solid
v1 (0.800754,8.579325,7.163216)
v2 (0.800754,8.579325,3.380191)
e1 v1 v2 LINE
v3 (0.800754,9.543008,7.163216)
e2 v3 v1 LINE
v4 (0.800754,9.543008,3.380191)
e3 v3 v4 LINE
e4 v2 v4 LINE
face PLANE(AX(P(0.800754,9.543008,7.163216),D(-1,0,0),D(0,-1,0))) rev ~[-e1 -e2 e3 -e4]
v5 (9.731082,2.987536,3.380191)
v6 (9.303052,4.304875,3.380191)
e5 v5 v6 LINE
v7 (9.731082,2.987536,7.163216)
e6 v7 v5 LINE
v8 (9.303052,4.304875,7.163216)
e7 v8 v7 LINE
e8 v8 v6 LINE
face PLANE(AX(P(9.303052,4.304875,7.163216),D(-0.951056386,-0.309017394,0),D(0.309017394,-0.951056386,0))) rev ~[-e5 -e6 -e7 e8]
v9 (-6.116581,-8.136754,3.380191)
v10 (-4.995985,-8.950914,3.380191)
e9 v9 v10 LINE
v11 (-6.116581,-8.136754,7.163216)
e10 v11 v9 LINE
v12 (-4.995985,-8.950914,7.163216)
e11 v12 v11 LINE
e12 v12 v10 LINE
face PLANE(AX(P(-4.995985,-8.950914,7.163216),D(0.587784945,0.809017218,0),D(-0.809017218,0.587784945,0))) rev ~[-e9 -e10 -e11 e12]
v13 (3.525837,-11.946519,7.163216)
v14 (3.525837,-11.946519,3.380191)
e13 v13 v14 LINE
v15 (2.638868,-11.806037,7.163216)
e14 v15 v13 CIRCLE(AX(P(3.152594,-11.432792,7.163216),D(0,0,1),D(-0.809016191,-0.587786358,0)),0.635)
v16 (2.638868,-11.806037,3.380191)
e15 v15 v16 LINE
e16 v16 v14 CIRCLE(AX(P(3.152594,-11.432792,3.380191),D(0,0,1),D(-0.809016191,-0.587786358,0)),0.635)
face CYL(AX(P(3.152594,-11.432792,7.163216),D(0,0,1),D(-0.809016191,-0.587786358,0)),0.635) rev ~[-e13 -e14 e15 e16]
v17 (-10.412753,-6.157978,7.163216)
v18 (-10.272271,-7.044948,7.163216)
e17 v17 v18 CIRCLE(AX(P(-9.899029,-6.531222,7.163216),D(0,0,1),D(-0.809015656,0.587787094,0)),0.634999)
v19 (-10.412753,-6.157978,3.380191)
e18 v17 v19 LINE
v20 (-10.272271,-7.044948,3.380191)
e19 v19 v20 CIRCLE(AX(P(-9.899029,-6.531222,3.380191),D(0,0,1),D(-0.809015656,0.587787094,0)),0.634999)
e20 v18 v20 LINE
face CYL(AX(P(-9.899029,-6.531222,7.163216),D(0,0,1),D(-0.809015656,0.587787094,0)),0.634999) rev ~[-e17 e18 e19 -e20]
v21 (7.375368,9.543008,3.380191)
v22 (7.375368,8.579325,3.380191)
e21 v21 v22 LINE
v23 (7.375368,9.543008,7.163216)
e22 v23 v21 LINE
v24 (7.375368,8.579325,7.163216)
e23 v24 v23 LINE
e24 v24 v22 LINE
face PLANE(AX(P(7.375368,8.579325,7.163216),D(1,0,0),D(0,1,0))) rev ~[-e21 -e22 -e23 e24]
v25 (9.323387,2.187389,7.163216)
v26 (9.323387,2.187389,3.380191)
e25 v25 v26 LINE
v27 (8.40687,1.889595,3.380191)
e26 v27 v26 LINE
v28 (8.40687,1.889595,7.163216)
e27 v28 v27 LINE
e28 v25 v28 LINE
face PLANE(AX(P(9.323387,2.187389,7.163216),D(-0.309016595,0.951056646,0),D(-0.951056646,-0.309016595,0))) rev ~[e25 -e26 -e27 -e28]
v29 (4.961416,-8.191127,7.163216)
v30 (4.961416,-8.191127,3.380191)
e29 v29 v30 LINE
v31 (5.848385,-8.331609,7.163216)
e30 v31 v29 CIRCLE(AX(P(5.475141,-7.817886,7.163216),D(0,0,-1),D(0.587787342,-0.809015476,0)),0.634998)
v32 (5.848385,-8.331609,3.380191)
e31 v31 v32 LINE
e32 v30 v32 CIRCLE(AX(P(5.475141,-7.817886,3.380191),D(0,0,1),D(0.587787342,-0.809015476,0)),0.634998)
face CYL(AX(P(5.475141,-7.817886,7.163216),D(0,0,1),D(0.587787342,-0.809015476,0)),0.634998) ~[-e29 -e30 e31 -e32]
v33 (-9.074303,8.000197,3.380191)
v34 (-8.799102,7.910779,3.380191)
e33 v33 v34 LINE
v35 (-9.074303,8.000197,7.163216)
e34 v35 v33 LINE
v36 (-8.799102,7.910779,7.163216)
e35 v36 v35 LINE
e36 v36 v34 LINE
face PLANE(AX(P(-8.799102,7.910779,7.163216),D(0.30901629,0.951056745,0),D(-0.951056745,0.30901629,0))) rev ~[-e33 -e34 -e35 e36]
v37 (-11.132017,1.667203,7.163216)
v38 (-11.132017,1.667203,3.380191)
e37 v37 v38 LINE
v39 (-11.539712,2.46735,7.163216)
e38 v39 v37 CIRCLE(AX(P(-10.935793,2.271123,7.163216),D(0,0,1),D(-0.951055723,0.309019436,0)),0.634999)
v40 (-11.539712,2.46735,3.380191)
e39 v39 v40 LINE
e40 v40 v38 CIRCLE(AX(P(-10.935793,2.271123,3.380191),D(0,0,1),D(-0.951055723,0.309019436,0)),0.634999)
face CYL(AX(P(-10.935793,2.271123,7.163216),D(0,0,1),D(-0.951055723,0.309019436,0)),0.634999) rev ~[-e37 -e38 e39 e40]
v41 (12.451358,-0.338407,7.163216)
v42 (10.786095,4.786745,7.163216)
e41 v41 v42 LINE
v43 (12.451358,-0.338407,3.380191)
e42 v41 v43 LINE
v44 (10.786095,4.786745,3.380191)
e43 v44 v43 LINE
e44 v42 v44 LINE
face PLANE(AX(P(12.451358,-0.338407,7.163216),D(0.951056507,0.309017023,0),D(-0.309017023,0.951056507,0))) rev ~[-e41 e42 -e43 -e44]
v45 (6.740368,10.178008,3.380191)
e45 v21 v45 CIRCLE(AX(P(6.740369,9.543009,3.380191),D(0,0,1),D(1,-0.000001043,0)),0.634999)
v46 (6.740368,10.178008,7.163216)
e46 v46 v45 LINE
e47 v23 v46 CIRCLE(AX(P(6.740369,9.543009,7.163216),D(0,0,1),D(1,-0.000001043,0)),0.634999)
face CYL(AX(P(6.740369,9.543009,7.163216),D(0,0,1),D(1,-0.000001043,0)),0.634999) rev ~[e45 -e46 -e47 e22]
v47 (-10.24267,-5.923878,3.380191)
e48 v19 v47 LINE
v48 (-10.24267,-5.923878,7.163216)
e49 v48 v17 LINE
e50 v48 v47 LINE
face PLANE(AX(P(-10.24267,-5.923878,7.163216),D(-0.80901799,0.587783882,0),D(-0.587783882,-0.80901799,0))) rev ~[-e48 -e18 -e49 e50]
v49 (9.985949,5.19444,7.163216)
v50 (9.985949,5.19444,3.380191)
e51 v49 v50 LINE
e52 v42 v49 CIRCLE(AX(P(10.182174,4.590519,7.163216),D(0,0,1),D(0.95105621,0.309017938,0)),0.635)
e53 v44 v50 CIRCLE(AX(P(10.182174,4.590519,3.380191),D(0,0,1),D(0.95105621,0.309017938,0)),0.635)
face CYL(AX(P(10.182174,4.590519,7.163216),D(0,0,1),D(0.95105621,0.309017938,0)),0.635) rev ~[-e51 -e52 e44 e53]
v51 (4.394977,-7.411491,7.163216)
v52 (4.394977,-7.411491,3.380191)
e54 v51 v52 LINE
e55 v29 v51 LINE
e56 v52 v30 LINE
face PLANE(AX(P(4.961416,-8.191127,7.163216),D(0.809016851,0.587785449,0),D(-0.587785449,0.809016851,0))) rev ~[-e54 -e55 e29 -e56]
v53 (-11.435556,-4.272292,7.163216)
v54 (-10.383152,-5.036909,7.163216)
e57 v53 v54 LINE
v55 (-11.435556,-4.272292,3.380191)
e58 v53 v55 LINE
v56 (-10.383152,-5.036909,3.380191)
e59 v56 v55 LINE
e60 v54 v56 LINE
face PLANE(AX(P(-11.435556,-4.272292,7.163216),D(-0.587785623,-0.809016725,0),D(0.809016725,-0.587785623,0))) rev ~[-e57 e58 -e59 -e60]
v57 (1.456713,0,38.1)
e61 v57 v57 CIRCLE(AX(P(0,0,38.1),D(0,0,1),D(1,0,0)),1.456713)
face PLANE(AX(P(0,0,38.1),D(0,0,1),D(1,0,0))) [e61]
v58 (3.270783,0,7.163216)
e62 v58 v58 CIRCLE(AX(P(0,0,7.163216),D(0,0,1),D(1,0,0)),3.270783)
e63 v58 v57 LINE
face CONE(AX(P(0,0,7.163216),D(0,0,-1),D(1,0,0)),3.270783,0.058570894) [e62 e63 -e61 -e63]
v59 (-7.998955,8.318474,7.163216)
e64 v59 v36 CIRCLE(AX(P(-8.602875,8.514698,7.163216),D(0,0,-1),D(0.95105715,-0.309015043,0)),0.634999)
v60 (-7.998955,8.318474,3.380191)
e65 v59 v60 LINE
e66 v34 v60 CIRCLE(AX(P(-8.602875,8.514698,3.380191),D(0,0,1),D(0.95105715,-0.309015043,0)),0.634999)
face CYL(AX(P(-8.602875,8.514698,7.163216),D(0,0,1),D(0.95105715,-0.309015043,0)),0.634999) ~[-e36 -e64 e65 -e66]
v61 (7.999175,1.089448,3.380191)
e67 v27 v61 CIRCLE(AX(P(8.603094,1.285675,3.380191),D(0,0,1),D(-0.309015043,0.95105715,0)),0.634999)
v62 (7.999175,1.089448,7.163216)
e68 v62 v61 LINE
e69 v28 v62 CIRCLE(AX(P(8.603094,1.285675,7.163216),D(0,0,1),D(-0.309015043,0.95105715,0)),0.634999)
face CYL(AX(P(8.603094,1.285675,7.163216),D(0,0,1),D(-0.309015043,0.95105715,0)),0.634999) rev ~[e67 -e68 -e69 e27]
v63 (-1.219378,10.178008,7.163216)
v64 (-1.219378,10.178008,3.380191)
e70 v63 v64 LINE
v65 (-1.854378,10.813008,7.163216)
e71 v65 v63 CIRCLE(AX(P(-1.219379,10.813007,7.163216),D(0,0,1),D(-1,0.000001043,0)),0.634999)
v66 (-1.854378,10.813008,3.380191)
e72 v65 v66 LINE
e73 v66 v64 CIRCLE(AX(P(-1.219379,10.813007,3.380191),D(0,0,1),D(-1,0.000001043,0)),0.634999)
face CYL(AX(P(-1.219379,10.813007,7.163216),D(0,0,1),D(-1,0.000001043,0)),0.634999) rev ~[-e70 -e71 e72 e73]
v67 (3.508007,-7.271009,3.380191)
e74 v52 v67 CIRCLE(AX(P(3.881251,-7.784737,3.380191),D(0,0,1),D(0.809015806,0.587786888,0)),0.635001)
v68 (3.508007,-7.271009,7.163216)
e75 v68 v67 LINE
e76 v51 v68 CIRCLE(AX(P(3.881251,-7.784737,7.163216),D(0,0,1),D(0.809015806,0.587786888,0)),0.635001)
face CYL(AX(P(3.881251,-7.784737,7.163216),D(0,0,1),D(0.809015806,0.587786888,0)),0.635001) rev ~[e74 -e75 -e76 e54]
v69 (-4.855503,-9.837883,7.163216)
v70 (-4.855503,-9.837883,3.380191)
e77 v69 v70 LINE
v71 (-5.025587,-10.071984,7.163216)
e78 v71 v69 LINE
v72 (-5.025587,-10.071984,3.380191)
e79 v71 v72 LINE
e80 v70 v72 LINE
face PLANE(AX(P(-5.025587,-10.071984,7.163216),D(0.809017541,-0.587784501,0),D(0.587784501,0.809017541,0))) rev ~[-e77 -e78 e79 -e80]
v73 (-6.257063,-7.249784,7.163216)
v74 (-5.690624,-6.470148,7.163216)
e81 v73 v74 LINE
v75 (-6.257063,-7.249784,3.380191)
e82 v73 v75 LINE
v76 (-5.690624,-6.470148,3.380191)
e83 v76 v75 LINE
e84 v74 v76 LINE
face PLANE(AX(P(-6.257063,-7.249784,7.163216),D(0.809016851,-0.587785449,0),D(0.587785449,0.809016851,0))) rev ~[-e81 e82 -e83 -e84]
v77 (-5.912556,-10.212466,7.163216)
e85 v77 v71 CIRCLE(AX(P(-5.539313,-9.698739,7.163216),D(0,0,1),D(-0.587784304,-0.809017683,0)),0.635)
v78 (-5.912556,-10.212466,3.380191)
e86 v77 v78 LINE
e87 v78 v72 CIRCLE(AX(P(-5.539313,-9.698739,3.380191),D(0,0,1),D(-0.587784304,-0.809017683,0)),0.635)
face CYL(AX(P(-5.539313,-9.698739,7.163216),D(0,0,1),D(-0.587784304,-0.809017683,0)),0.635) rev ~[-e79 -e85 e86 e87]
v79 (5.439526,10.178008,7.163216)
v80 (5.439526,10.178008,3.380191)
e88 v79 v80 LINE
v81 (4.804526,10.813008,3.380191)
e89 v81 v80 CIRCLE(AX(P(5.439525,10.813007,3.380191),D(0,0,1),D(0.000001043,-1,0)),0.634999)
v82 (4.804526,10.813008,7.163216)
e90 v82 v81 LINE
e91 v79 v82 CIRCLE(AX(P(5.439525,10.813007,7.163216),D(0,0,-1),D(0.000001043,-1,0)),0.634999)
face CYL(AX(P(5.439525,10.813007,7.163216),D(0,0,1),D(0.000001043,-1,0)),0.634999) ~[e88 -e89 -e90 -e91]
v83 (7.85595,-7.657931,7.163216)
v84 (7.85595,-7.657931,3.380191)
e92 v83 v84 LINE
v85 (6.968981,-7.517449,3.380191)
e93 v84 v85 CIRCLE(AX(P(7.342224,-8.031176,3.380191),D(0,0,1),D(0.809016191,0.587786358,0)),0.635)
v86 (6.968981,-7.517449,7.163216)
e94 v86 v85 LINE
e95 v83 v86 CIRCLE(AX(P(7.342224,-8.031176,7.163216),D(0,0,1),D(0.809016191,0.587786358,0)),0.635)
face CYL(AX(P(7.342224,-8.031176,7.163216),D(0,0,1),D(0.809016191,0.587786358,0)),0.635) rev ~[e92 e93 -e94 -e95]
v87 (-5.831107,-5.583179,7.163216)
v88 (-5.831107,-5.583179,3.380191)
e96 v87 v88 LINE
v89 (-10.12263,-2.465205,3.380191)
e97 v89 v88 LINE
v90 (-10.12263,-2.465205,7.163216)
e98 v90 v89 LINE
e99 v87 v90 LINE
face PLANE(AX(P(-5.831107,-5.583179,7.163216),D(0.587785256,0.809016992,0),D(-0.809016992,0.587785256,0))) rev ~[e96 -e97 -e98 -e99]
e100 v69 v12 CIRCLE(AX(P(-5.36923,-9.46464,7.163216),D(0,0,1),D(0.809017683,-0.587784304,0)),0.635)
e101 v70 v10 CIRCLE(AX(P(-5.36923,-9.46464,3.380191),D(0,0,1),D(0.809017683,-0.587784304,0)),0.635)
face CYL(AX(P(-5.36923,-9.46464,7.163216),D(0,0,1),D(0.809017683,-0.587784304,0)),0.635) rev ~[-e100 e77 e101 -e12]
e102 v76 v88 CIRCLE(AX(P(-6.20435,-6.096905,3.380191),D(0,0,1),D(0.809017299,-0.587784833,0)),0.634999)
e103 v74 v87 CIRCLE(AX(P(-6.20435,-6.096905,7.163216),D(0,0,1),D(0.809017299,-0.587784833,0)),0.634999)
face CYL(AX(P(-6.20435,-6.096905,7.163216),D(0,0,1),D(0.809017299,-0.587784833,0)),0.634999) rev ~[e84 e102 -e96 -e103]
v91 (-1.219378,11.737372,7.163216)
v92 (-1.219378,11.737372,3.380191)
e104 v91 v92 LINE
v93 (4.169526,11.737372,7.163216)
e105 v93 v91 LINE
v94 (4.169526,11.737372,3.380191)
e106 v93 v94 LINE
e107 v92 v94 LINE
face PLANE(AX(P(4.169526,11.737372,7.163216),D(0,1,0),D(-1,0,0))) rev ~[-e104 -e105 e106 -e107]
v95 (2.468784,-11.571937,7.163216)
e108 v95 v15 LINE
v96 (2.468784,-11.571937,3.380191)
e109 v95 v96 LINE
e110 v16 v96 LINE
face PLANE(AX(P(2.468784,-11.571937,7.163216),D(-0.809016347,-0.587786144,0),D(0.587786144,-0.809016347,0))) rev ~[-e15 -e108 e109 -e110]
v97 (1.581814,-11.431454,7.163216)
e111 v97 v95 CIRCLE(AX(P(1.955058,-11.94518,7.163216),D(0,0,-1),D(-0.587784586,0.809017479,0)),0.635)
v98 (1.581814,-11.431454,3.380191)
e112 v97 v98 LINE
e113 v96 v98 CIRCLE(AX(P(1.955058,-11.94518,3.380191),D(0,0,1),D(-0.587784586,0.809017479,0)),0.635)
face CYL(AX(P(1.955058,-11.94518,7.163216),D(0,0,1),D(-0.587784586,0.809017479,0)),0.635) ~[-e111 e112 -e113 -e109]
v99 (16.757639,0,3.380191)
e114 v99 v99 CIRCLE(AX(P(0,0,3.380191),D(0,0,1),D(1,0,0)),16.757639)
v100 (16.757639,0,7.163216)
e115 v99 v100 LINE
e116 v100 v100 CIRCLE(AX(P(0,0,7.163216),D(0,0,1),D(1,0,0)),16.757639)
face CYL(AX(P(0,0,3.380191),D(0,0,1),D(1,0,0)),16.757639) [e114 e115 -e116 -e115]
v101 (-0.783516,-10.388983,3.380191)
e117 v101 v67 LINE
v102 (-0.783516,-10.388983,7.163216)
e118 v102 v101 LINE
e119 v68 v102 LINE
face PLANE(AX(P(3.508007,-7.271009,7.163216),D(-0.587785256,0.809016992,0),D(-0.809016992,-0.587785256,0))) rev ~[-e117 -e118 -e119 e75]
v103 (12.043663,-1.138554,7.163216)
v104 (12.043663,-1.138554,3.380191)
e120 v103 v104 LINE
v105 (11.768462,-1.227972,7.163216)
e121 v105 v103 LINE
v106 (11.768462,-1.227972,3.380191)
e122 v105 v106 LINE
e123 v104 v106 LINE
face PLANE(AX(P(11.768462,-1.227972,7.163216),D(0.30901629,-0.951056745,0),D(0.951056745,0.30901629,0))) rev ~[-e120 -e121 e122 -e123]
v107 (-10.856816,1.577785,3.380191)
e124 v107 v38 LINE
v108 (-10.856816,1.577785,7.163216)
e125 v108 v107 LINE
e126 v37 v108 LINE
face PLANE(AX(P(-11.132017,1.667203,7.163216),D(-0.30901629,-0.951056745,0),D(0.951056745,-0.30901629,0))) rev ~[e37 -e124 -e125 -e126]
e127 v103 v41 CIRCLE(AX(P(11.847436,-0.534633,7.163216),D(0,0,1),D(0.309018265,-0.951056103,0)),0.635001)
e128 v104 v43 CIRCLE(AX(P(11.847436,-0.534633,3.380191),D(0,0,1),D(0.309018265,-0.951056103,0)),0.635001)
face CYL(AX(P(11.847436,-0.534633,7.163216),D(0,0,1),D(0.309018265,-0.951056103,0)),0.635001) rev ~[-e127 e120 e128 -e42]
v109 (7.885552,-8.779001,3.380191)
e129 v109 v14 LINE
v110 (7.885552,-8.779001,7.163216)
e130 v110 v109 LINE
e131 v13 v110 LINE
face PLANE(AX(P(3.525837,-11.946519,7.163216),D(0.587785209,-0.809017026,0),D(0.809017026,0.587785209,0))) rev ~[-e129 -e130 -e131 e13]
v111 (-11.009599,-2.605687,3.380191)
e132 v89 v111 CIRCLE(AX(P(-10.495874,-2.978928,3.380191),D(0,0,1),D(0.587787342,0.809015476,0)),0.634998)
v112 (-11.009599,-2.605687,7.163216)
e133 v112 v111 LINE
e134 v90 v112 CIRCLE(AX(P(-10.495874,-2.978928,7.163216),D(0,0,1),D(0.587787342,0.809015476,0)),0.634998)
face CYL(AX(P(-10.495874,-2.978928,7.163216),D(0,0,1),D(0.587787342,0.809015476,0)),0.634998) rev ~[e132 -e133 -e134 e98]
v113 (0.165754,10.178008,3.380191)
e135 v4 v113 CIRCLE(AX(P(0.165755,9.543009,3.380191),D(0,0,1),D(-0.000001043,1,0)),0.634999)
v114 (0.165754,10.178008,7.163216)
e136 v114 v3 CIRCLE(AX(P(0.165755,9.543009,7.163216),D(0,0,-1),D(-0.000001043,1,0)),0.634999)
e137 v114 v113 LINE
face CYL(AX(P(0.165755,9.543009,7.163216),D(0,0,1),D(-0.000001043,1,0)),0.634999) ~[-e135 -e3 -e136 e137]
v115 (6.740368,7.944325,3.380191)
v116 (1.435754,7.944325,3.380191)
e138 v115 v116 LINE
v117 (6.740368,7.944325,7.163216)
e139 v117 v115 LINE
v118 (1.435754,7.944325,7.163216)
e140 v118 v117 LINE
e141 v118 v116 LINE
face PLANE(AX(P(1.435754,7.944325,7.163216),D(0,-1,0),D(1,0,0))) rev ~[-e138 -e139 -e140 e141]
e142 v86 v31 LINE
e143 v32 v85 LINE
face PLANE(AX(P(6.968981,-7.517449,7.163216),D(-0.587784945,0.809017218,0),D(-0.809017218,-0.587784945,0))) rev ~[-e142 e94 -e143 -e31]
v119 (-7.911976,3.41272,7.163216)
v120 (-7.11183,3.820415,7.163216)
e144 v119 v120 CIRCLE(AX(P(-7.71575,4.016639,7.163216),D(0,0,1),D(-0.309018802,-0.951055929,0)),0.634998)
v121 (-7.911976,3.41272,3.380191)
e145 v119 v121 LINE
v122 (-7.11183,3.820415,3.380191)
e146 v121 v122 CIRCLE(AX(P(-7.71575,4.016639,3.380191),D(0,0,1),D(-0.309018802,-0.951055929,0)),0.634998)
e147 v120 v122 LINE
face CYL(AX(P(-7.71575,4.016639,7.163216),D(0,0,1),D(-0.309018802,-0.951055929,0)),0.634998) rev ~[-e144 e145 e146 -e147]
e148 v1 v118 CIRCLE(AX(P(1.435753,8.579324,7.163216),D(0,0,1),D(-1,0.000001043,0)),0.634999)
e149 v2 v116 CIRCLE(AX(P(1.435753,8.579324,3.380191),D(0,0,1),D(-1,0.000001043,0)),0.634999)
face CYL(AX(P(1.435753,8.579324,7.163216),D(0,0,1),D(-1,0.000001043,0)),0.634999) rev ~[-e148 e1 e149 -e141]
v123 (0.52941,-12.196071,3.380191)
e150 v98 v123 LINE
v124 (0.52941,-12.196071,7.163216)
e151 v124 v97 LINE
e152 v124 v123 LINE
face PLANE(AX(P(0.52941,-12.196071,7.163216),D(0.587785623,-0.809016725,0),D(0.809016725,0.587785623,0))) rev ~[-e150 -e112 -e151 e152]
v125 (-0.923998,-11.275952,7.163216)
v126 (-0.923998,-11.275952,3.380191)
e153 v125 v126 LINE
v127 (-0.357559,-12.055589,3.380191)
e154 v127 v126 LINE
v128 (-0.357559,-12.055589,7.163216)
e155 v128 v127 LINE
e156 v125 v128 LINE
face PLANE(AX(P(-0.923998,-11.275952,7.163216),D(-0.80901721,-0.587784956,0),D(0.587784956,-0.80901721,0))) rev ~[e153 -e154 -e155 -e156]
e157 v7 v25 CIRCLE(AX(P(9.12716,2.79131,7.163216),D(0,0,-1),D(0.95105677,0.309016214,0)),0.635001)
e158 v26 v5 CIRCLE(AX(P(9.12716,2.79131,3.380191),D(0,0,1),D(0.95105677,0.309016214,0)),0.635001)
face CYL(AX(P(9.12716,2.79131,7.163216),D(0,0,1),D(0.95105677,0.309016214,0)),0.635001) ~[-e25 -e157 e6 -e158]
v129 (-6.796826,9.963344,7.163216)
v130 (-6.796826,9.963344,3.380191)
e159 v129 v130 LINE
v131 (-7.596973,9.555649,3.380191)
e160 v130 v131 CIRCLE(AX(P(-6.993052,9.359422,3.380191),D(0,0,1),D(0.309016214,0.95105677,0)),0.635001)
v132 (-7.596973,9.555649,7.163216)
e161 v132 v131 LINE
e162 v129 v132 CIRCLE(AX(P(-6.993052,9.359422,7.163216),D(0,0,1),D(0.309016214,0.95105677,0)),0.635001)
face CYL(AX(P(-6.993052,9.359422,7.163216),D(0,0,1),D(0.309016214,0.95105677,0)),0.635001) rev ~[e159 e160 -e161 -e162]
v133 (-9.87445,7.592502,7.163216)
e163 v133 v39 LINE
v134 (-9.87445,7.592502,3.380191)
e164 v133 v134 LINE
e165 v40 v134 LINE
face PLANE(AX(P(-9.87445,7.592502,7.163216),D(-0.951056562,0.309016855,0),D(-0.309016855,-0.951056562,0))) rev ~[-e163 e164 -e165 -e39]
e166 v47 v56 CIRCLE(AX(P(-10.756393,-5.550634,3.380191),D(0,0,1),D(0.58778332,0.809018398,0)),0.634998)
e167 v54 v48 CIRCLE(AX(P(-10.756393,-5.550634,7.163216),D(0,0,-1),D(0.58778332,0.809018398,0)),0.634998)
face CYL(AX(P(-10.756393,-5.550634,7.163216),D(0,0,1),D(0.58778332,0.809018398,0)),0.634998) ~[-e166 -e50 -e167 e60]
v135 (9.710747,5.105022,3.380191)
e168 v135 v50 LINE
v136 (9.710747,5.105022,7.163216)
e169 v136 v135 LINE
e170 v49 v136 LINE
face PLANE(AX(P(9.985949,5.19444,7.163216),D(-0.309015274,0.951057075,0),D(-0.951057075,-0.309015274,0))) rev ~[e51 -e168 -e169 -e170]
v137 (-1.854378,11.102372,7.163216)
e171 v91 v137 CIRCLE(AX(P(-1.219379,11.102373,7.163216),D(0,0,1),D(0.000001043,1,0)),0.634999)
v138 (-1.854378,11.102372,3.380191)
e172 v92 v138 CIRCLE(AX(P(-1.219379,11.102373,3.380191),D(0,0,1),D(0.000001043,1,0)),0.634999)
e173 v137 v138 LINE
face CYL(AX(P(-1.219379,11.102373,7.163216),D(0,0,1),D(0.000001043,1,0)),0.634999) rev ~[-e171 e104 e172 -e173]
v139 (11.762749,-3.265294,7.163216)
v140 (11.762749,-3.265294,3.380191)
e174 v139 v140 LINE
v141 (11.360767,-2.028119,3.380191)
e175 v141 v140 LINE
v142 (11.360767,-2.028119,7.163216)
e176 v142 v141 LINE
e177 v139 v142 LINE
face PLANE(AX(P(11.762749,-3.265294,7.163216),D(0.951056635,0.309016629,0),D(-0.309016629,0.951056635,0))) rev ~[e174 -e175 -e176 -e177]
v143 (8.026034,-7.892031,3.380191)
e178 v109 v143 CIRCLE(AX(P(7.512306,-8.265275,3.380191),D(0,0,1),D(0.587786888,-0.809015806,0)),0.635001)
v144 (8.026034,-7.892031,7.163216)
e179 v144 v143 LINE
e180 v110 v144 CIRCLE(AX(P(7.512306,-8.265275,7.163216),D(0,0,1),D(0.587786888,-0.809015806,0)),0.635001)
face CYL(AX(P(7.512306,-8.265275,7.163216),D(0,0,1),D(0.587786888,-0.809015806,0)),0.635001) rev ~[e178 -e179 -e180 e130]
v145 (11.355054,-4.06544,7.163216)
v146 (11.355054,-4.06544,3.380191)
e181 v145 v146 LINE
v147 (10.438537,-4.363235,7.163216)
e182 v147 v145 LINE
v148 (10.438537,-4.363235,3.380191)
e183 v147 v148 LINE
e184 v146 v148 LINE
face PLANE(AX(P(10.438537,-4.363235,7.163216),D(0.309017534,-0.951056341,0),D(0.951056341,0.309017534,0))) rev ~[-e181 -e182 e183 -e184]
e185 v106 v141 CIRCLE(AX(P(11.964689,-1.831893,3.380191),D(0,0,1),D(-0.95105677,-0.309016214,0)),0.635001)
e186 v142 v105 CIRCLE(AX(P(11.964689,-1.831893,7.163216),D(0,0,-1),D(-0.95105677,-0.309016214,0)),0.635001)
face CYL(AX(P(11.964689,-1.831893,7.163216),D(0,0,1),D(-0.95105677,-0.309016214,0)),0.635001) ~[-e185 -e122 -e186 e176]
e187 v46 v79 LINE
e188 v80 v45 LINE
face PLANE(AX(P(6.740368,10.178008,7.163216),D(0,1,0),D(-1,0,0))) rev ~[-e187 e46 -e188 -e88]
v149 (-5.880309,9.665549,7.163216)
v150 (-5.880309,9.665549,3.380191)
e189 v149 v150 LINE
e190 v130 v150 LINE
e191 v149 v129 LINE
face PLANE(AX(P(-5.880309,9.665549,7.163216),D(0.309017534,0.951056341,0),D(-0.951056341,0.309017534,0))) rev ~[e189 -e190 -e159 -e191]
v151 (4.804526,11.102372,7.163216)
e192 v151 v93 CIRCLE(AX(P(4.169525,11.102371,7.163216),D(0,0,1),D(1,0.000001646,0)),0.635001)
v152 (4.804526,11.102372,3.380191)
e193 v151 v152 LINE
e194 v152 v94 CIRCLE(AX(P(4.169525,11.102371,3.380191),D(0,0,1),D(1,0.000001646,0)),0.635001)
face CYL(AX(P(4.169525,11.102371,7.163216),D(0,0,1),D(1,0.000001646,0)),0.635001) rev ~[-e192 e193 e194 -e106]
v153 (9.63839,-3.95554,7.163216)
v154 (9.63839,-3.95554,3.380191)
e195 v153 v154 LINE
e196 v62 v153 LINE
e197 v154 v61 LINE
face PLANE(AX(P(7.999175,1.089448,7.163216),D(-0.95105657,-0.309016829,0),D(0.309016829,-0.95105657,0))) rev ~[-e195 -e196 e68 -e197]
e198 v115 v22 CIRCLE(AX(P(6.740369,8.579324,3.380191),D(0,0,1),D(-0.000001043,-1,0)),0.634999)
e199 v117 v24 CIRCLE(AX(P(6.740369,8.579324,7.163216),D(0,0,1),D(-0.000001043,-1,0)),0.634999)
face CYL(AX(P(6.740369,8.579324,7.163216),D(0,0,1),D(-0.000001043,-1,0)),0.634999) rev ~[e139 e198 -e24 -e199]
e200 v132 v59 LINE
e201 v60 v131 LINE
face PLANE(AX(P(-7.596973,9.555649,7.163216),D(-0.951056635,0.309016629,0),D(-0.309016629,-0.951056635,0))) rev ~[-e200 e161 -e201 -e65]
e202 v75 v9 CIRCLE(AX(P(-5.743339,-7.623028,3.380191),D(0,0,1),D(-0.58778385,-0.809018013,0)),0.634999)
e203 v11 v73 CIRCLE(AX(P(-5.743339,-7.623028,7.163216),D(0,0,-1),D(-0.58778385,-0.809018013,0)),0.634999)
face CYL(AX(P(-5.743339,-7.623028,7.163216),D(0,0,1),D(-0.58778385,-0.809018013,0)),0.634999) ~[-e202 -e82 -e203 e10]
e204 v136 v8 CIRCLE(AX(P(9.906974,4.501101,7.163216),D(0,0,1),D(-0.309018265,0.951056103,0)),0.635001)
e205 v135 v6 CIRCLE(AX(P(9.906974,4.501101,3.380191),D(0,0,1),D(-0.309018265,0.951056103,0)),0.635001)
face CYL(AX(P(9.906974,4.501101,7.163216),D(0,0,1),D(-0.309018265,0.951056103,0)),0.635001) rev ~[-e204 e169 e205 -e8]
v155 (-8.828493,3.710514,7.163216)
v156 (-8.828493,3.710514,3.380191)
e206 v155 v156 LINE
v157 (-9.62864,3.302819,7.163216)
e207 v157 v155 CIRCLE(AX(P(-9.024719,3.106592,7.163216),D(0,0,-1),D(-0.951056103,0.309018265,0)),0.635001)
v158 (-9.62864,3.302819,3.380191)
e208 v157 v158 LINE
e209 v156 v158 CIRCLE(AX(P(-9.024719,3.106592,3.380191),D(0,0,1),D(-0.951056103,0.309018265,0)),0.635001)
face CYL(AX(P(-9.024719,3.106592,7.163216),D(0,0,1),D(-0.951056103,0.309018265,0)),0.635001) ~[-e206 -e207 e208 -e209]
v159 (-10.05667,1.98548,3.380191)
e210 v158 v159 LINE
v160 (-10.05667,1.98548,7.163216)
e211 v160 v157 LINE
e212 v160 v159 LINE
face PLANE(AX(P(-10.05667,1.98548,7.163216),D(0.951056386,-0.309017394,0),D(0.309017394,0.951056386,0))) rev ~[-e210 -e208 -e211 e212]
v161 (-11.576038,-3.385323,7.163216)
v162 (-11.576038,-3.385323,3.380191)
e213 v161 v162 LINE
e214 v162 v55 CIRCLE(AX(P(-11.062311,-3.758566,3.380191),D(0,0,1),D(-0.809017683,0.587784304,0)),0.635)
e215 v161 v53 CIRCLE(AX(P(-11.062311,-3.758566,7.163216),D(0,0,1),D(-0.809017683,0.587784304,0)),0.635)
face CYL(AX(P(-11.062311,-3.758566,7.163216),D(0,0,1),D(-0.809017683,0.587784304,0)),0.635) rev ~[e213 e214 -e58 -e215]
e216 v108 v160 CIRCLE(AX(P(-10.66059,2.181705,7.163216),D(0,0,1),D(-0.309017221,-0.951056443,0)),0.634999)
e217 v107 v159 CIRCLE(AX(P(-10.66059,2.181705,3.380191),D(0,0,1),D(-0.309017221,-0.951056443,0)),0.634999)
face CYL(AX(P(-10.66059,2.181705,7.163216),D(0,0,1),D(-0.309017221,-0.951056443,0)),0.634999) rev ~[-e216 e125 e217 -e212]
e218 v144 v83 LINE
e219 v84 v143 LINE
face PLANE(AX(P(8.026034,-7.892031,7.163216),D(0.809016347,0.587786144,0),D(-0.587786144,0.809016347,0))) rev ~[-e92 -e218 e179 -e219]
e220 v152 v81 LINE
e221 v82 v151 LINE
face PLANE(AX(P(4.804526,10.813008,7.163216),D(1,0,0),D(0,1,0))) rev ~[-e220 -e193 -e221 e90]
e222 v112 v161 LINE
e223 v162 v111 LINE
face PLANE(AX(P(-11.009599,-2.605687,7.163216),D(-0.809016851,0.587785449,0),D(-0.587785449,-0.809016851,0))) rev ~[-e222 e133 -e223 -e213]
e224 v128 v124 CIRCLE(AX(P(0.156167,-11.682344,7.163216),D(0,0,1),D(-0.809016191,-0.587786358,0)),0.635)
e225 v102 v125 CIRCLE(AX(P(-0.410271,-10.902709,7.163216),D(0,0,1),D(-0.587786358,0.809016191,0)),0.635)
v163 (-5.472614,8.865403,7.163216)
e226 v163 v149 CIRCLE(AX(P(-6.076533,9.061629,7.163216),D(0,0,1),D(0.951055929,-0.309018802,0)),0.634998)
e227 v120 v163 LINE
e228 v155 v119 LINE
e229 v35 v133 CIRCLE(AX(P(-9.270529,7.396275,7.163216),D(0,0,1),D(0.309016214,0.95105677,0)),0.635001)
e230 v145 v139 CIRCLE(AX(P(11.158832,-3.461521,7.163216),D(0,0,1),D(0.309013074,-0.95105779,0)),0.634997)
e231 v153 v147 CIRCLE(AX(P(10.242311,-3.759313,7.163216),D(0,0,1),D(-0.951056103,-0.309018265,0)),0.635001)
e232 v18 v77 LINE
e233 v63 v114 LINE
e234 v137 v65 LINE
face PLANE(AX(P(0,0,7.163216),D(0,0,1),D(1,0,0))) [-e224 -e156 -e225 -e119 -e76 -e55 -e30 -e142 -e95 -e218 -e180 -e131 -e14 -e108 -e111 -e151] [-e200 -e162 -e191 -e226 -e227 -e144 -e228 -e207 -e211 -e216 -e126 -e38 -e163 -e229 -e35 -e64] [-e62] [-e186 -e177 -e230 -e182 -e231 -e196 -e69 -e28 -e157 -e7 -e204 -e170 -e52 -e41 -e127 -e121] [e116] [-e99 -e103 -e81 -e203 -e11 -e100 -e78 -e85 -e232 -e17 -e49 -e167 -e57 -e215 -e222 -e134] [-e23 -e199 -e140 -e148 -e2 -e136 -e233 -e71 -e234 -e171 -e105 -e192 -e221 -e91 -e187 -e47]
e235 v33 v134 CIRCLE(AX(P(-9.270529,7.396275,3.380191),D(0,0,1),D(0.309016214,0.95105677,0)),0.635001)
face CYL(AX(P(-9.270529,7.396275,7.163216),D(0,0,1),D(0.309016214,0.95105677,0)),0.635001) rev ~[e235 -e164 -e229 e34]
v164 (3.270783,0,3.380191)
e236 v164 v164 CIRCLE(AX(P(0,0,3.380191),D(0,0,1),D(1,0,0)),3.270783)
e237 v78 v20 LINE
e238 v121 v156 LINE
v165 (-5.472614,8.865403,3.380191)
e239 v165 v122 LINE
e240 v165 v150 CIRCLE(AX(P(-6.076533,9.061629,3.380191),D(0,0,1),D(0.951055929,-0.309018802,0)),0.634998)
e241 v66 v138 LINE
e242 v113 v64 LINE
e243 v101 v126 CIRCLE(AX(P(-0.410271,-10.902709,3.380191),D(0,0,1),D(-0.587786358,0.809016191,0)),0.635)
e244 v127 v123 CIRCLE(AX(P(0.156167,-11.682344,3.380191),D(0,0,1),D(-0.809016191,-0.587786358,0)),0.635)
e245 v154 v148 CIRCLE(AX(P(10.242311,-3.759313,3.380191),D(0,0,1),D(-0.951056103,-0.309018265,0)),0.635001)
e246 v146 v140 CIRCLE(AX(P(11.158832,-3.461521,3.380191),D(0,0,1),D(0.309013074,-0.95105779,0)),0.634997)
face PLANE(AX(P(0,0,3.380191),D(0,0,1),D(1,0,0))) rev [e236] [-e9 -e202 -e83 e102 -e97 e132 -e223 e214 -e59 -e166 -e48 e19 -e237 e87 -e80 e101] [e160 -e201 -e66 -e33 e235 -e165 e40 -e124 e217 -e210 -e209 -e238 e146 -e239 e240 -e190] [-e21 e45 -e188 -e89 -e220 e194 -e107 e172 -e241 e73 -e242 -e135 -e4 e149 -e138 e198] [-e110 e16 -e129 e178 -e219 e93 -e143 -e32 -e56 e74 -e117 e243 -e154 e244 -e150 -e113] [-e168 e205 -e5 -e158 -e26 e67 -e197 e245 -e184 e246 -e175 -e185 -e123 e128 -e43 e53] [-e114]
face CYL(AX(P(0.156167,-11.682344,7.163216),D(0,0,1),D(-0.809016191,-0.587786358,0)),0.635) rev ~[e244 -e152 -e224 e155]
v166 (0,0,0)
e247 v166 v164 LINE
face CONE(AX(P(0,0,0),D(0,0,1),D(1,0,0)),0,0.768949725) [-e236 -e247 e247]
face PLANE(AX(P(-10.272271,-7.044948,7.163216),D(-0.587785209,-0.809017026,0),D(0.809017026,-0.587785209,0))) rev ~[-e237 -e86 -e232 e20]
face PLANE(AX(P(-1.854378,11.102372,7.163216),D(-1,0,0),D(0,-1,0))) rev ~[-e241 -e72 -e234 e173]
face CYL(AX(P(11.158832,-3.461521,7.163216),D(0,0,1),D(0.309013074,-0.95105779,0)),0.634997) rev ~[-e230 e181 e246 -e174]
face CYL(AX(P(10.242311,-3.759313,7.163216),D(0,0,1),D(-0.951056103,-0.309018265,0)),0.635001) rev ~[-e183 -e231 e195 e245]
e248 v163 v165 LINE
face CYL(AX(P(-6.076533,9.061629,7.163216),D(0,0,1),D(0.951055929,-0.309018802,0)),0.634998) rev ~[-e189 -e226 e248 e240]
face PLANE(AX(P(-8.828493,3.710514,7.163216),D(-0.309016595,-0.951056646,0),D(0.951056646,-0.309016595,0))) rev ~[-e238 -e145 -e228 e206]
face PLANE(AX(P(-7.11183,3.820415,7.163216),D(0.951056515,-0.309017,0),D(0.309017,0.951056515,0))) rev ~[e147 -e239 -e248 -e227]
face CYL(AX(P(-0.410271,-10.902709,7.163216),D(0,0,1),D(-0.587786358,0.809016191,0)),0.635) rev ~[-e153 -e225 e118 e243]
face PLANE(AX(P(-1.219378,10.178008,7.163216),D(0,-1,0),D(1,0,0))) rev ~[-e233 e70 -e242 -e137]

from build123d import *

# Parameters (mm, degrees)
F3_DEPTH = 7.164216


with BuildPart() as f1:
    # F0 (on Front) → F1 (revolve)
    with BuildSketch(Plane.XZ):
        Polygon((0, 38.1), (0, 0), (3.270783, 3.380191), (16.757639, 3.380191), (16.757639, 7.163216), (3.270783, 7.163216), (1.456713, 38.1), align=None)
    revolve(axis=Axis((0, 0, 19.05), (0, 0, 1)))

    # F2 (on face) → F3 (cut, through all)
    with BuildSketch(Plane.XY.offset(7.163216)):
        with BuildLine():
            Line((4.169526, 11.737372), (-1.219378, 11.737372))
            ThreePointArc((-1.219378, 11.737372), (-1.668391, 11.551385), (-1.854378, 11.102372))
            Line((-1.854378, 11.102372), (-1.854378, 10.813008))
            ThreePointArc((-1.854378, 10.813008), (-1.668391, 10.363995), (-1.219378, 10.178008))
            Line((-1.219378, 10.178008), (0.165754, 10.178008))
            ThreePointArc((0.165754, 10.178008), (0.614767, 9.992021), (0.800754, 9.543008))
            Line((0.800754, 9.543008), (0.800754, 8.579325))
            ThreePointArc((0.800754, 8.579325), (0.986741, 8.130312), (1.435754, 7.944325))
            Line((1.435754, 7.944325), (6.740368, 7.944325))
            ThreePointArc((6.740368, 7.944325), (7.189381, 8.130312), (7.375368, 8.579325))
            Line((7.375368, 8.579325), (7.375368, 9.543008))
            ThreePointArc((7.375368, 9.543008), (7.189381, 9.992021), (6.740368, 10.178008))
            Line((6.740368, 10.178008), (5.439526, 10.178008))
            ThreePointArc((5.439526, 10.178008), (4.990513, 10.363995), (4.804526, 10.813008))
            Line((4.804526, 10.813008), (4.804526, 11.102372))
            ThreePointArc((4.804526, 11.102372), (4.618538, 11.551385), (4.169526, 11.737372))
        make_face()
        with BuildLine():
            Line((-9.87445, 7.592502), (-11.539712, 2.46735))
            ThreePointArc((-11.539712, 2.46735), (-11.501581, 1.98284), (-11.132017, 1.667203))
            Line((-11.132017, 1.667203), (-10.856816, 1.577785))
            ThreePointArc((-10.856816, 1.577785), (-10.372306, 1.615917), (-10.05667, 1.98548))
            Line((-10.05667, 1.98548), (-9.62864, 3.302819))
            ThreePointArc((-9.62864, 3.302819), (-9.313003, 3.672382), (-8.828493, 3.710514))
            Line((-8.828493, 3.710514), (-7.911976, 3.41272))
            ThreePointArc((-7.911976, 3.41272), (-7.427467, 3.450851), (-7.11183, 3.820415))
            Line((-7.11183, 3.820415), (-5.472614, 8.865403))
            ThreePointArc((-5.472614, 8.865403), (-5.510745, 9.349912), (-5.880309, 9.665549))
            Line((-5.880309, 9.665549), (-6.796826, 9.963344))
            ThreePointArc((-6.796826, 9.963344), (-7.281336, 9.925212), (-7.596973, 9.555649))
            Line((-7.596973, 9.555649), (-7.998955, 8.318474))
            ThreePointArc((-7.998955, 8.318474), (-8.314592, 7.94891), (-8.799102, 7.910779))
            Line((-8.799102, 7.910779), (-9.074303, 8.000197))
            ThreePointArc((-9.074303, 8.000197), (-9.558813, 7.962065), (-9.87445, 7.592502))
        make_face()
        with BuildLine():
            Line((-10.272271, -7.044948), (-5.912556, -10.212466))
            ThreePointArc((-5.912556, -10.212466), (-5.439977, -10.325922), (-5.025587, -10.071984))
            Line((-5.025587, -10.071984), (-4.855503, -9.837883))
            ThreePointArc((-4.855503, -9.837883), (-4.742047, -9.365304), (-4.995985, -8.950914))
            Line((-4.995985, -8.950914), (-6.116581, -8.136754))
            ThreePointArc((-6.116581, -8.136754), (-6.37052, -7.722364), (-6.257063, -7.249784))
            Line((-6.257063, -7.249784), (-5.690624, -6.470148))
            ThreePointArc((-5.690624, -6.470148), (-5.577168, -5.997569), (-5.831107, -5.583179))
            Line((-5.831107, -5.583179), (-10.12263, -2.465205))
            ThreePointArc((-10.12263, -2.465205), (-10.595209, -2.351748), (-11.009599, -2.605687))
            Line((-11.009599, -2.605687), (-11.576038, -3.385323))
            ThreePointArc((-11.576038, -3.385323), (-11.689494, -3.857902), (-11.435556, -4.272292))
            Line((-11.435556, -4.272292), (-10.383152, -5.036909))
            ThreePointArc((-10.383152, -5.036909), (-10.129213, -5.451299), (-10.24267, -5.923878))
            Line((-10.24267, -5.923878), (-10.412753, -6.157978))
            ThreePointArc((-10.412753, -6.157978), (-10.52621, -6.630558), (-10.272271, -7.044948))
        make_face()
        with BuildLine():
            Line((3.525837, -11.946519), (7.885552, -8.779001))
            ThreePointArc((7.885552, -8.779001), (8.13949, -8.364611), (8.026034, -7.892031))
            Line((8.026034, -7.892031), (7.85595, -7.657931))
            ThreePointArc((7.85595, -7.657931), (7.44156, -7.403993), (6.968981, -7.517449))
            Line((6.968981, -7.517449), (5.848385, -8.331609))
            ThreePointArc((5.848385, -8.331609), (5.375806, -8.445066), (4.961416, -8.191127))
            Line((4.961416, -8.191127), (4.394977, -7.411491))
            ThreePointArc((4.394977, -7.411491), (3.980587, -7.157553), (3.508007, -7.271009))
            Line((3.508007, -7.271009), (-0.783516, -10.388983))
            ThreePointArc((-0.783516, -10.388983), (-1.037454, -10.803373), (-0.923998, -11.275952))
            Line((-0.923998, -11.275952), (-0.357559, -12.055589))
            ThreePointArc((-0.357559, -12.055589), (0.056831, -12.309527), (0.52941, -12.196071))
            Line((0.52941, -12.196071), (1.581814, -11.431454))
            ThreePointArc((1.581814, -11.431454), (2.054394, -11.317998), (2.468784, -11.571937))
            Line((2.468784, -11.571937), (2.638868, -11.806037))
            ThreePointArc((2.638868, -11.806037), (3.053258, -12.059975), (3.525837, -11.946519))
        make_face()
        with BuildLine():
            Line((12.451358, -0.338407), (10.786095, 4.786745))
            ThreePointArc((10.786095, 4.786745), (10.470458, 5.156308), (9.985949, 5.19444))
            Line((9.985949, 5.19444), (9.710747, 5.105022))
            ThreePointArc((9.710747, 5.105022), (9.341184, 4.789385), (9.303052, 4.304875))
            Line((9.303052, 4.304875), (9.731082, 2.987536))
            ThreePointArc((9.731082, 2.987536), (9.69295, 2.503026), (9.323387, 2.187389))
            Line((9.323387, 2.187389), (8.40687, 1.889595))
            ThreePointArc((8.40687, 1.889595), (8.037306, 1.573958), (7.999175, 1.089448))
            Line((7.999175, 1.089448), (9.63839, -3.95554))
            ThreePointArc((9.63839, -3.95554), (9.954027, -4.325103), (10.438537, -4.363235))
            Line((10.438537, -4.363235), (11.355054, -4.06544))
            ThreePointArc((11.355054, -4.06544), (11.724618, -3.749804), (11.762749, -3.265294))
            Line((11.762749, -3.265294), (11.360767, -2.028119))
            ThreePointArc((11.360767, -2.028119), (11.398899, -1.543609), (11.768462, -1.227972))
            Line((11.768462, -1.227972), (12.043663, -1.138554))
            ThreePointArc((12.043663, -1.138554), (12.413226, -0.822917), (12.451358, -0.338407))
        make_face()
    extrude(amount=-F3_DEPTH, mode=Mode.SUBTRACT)


solid = f1.part
